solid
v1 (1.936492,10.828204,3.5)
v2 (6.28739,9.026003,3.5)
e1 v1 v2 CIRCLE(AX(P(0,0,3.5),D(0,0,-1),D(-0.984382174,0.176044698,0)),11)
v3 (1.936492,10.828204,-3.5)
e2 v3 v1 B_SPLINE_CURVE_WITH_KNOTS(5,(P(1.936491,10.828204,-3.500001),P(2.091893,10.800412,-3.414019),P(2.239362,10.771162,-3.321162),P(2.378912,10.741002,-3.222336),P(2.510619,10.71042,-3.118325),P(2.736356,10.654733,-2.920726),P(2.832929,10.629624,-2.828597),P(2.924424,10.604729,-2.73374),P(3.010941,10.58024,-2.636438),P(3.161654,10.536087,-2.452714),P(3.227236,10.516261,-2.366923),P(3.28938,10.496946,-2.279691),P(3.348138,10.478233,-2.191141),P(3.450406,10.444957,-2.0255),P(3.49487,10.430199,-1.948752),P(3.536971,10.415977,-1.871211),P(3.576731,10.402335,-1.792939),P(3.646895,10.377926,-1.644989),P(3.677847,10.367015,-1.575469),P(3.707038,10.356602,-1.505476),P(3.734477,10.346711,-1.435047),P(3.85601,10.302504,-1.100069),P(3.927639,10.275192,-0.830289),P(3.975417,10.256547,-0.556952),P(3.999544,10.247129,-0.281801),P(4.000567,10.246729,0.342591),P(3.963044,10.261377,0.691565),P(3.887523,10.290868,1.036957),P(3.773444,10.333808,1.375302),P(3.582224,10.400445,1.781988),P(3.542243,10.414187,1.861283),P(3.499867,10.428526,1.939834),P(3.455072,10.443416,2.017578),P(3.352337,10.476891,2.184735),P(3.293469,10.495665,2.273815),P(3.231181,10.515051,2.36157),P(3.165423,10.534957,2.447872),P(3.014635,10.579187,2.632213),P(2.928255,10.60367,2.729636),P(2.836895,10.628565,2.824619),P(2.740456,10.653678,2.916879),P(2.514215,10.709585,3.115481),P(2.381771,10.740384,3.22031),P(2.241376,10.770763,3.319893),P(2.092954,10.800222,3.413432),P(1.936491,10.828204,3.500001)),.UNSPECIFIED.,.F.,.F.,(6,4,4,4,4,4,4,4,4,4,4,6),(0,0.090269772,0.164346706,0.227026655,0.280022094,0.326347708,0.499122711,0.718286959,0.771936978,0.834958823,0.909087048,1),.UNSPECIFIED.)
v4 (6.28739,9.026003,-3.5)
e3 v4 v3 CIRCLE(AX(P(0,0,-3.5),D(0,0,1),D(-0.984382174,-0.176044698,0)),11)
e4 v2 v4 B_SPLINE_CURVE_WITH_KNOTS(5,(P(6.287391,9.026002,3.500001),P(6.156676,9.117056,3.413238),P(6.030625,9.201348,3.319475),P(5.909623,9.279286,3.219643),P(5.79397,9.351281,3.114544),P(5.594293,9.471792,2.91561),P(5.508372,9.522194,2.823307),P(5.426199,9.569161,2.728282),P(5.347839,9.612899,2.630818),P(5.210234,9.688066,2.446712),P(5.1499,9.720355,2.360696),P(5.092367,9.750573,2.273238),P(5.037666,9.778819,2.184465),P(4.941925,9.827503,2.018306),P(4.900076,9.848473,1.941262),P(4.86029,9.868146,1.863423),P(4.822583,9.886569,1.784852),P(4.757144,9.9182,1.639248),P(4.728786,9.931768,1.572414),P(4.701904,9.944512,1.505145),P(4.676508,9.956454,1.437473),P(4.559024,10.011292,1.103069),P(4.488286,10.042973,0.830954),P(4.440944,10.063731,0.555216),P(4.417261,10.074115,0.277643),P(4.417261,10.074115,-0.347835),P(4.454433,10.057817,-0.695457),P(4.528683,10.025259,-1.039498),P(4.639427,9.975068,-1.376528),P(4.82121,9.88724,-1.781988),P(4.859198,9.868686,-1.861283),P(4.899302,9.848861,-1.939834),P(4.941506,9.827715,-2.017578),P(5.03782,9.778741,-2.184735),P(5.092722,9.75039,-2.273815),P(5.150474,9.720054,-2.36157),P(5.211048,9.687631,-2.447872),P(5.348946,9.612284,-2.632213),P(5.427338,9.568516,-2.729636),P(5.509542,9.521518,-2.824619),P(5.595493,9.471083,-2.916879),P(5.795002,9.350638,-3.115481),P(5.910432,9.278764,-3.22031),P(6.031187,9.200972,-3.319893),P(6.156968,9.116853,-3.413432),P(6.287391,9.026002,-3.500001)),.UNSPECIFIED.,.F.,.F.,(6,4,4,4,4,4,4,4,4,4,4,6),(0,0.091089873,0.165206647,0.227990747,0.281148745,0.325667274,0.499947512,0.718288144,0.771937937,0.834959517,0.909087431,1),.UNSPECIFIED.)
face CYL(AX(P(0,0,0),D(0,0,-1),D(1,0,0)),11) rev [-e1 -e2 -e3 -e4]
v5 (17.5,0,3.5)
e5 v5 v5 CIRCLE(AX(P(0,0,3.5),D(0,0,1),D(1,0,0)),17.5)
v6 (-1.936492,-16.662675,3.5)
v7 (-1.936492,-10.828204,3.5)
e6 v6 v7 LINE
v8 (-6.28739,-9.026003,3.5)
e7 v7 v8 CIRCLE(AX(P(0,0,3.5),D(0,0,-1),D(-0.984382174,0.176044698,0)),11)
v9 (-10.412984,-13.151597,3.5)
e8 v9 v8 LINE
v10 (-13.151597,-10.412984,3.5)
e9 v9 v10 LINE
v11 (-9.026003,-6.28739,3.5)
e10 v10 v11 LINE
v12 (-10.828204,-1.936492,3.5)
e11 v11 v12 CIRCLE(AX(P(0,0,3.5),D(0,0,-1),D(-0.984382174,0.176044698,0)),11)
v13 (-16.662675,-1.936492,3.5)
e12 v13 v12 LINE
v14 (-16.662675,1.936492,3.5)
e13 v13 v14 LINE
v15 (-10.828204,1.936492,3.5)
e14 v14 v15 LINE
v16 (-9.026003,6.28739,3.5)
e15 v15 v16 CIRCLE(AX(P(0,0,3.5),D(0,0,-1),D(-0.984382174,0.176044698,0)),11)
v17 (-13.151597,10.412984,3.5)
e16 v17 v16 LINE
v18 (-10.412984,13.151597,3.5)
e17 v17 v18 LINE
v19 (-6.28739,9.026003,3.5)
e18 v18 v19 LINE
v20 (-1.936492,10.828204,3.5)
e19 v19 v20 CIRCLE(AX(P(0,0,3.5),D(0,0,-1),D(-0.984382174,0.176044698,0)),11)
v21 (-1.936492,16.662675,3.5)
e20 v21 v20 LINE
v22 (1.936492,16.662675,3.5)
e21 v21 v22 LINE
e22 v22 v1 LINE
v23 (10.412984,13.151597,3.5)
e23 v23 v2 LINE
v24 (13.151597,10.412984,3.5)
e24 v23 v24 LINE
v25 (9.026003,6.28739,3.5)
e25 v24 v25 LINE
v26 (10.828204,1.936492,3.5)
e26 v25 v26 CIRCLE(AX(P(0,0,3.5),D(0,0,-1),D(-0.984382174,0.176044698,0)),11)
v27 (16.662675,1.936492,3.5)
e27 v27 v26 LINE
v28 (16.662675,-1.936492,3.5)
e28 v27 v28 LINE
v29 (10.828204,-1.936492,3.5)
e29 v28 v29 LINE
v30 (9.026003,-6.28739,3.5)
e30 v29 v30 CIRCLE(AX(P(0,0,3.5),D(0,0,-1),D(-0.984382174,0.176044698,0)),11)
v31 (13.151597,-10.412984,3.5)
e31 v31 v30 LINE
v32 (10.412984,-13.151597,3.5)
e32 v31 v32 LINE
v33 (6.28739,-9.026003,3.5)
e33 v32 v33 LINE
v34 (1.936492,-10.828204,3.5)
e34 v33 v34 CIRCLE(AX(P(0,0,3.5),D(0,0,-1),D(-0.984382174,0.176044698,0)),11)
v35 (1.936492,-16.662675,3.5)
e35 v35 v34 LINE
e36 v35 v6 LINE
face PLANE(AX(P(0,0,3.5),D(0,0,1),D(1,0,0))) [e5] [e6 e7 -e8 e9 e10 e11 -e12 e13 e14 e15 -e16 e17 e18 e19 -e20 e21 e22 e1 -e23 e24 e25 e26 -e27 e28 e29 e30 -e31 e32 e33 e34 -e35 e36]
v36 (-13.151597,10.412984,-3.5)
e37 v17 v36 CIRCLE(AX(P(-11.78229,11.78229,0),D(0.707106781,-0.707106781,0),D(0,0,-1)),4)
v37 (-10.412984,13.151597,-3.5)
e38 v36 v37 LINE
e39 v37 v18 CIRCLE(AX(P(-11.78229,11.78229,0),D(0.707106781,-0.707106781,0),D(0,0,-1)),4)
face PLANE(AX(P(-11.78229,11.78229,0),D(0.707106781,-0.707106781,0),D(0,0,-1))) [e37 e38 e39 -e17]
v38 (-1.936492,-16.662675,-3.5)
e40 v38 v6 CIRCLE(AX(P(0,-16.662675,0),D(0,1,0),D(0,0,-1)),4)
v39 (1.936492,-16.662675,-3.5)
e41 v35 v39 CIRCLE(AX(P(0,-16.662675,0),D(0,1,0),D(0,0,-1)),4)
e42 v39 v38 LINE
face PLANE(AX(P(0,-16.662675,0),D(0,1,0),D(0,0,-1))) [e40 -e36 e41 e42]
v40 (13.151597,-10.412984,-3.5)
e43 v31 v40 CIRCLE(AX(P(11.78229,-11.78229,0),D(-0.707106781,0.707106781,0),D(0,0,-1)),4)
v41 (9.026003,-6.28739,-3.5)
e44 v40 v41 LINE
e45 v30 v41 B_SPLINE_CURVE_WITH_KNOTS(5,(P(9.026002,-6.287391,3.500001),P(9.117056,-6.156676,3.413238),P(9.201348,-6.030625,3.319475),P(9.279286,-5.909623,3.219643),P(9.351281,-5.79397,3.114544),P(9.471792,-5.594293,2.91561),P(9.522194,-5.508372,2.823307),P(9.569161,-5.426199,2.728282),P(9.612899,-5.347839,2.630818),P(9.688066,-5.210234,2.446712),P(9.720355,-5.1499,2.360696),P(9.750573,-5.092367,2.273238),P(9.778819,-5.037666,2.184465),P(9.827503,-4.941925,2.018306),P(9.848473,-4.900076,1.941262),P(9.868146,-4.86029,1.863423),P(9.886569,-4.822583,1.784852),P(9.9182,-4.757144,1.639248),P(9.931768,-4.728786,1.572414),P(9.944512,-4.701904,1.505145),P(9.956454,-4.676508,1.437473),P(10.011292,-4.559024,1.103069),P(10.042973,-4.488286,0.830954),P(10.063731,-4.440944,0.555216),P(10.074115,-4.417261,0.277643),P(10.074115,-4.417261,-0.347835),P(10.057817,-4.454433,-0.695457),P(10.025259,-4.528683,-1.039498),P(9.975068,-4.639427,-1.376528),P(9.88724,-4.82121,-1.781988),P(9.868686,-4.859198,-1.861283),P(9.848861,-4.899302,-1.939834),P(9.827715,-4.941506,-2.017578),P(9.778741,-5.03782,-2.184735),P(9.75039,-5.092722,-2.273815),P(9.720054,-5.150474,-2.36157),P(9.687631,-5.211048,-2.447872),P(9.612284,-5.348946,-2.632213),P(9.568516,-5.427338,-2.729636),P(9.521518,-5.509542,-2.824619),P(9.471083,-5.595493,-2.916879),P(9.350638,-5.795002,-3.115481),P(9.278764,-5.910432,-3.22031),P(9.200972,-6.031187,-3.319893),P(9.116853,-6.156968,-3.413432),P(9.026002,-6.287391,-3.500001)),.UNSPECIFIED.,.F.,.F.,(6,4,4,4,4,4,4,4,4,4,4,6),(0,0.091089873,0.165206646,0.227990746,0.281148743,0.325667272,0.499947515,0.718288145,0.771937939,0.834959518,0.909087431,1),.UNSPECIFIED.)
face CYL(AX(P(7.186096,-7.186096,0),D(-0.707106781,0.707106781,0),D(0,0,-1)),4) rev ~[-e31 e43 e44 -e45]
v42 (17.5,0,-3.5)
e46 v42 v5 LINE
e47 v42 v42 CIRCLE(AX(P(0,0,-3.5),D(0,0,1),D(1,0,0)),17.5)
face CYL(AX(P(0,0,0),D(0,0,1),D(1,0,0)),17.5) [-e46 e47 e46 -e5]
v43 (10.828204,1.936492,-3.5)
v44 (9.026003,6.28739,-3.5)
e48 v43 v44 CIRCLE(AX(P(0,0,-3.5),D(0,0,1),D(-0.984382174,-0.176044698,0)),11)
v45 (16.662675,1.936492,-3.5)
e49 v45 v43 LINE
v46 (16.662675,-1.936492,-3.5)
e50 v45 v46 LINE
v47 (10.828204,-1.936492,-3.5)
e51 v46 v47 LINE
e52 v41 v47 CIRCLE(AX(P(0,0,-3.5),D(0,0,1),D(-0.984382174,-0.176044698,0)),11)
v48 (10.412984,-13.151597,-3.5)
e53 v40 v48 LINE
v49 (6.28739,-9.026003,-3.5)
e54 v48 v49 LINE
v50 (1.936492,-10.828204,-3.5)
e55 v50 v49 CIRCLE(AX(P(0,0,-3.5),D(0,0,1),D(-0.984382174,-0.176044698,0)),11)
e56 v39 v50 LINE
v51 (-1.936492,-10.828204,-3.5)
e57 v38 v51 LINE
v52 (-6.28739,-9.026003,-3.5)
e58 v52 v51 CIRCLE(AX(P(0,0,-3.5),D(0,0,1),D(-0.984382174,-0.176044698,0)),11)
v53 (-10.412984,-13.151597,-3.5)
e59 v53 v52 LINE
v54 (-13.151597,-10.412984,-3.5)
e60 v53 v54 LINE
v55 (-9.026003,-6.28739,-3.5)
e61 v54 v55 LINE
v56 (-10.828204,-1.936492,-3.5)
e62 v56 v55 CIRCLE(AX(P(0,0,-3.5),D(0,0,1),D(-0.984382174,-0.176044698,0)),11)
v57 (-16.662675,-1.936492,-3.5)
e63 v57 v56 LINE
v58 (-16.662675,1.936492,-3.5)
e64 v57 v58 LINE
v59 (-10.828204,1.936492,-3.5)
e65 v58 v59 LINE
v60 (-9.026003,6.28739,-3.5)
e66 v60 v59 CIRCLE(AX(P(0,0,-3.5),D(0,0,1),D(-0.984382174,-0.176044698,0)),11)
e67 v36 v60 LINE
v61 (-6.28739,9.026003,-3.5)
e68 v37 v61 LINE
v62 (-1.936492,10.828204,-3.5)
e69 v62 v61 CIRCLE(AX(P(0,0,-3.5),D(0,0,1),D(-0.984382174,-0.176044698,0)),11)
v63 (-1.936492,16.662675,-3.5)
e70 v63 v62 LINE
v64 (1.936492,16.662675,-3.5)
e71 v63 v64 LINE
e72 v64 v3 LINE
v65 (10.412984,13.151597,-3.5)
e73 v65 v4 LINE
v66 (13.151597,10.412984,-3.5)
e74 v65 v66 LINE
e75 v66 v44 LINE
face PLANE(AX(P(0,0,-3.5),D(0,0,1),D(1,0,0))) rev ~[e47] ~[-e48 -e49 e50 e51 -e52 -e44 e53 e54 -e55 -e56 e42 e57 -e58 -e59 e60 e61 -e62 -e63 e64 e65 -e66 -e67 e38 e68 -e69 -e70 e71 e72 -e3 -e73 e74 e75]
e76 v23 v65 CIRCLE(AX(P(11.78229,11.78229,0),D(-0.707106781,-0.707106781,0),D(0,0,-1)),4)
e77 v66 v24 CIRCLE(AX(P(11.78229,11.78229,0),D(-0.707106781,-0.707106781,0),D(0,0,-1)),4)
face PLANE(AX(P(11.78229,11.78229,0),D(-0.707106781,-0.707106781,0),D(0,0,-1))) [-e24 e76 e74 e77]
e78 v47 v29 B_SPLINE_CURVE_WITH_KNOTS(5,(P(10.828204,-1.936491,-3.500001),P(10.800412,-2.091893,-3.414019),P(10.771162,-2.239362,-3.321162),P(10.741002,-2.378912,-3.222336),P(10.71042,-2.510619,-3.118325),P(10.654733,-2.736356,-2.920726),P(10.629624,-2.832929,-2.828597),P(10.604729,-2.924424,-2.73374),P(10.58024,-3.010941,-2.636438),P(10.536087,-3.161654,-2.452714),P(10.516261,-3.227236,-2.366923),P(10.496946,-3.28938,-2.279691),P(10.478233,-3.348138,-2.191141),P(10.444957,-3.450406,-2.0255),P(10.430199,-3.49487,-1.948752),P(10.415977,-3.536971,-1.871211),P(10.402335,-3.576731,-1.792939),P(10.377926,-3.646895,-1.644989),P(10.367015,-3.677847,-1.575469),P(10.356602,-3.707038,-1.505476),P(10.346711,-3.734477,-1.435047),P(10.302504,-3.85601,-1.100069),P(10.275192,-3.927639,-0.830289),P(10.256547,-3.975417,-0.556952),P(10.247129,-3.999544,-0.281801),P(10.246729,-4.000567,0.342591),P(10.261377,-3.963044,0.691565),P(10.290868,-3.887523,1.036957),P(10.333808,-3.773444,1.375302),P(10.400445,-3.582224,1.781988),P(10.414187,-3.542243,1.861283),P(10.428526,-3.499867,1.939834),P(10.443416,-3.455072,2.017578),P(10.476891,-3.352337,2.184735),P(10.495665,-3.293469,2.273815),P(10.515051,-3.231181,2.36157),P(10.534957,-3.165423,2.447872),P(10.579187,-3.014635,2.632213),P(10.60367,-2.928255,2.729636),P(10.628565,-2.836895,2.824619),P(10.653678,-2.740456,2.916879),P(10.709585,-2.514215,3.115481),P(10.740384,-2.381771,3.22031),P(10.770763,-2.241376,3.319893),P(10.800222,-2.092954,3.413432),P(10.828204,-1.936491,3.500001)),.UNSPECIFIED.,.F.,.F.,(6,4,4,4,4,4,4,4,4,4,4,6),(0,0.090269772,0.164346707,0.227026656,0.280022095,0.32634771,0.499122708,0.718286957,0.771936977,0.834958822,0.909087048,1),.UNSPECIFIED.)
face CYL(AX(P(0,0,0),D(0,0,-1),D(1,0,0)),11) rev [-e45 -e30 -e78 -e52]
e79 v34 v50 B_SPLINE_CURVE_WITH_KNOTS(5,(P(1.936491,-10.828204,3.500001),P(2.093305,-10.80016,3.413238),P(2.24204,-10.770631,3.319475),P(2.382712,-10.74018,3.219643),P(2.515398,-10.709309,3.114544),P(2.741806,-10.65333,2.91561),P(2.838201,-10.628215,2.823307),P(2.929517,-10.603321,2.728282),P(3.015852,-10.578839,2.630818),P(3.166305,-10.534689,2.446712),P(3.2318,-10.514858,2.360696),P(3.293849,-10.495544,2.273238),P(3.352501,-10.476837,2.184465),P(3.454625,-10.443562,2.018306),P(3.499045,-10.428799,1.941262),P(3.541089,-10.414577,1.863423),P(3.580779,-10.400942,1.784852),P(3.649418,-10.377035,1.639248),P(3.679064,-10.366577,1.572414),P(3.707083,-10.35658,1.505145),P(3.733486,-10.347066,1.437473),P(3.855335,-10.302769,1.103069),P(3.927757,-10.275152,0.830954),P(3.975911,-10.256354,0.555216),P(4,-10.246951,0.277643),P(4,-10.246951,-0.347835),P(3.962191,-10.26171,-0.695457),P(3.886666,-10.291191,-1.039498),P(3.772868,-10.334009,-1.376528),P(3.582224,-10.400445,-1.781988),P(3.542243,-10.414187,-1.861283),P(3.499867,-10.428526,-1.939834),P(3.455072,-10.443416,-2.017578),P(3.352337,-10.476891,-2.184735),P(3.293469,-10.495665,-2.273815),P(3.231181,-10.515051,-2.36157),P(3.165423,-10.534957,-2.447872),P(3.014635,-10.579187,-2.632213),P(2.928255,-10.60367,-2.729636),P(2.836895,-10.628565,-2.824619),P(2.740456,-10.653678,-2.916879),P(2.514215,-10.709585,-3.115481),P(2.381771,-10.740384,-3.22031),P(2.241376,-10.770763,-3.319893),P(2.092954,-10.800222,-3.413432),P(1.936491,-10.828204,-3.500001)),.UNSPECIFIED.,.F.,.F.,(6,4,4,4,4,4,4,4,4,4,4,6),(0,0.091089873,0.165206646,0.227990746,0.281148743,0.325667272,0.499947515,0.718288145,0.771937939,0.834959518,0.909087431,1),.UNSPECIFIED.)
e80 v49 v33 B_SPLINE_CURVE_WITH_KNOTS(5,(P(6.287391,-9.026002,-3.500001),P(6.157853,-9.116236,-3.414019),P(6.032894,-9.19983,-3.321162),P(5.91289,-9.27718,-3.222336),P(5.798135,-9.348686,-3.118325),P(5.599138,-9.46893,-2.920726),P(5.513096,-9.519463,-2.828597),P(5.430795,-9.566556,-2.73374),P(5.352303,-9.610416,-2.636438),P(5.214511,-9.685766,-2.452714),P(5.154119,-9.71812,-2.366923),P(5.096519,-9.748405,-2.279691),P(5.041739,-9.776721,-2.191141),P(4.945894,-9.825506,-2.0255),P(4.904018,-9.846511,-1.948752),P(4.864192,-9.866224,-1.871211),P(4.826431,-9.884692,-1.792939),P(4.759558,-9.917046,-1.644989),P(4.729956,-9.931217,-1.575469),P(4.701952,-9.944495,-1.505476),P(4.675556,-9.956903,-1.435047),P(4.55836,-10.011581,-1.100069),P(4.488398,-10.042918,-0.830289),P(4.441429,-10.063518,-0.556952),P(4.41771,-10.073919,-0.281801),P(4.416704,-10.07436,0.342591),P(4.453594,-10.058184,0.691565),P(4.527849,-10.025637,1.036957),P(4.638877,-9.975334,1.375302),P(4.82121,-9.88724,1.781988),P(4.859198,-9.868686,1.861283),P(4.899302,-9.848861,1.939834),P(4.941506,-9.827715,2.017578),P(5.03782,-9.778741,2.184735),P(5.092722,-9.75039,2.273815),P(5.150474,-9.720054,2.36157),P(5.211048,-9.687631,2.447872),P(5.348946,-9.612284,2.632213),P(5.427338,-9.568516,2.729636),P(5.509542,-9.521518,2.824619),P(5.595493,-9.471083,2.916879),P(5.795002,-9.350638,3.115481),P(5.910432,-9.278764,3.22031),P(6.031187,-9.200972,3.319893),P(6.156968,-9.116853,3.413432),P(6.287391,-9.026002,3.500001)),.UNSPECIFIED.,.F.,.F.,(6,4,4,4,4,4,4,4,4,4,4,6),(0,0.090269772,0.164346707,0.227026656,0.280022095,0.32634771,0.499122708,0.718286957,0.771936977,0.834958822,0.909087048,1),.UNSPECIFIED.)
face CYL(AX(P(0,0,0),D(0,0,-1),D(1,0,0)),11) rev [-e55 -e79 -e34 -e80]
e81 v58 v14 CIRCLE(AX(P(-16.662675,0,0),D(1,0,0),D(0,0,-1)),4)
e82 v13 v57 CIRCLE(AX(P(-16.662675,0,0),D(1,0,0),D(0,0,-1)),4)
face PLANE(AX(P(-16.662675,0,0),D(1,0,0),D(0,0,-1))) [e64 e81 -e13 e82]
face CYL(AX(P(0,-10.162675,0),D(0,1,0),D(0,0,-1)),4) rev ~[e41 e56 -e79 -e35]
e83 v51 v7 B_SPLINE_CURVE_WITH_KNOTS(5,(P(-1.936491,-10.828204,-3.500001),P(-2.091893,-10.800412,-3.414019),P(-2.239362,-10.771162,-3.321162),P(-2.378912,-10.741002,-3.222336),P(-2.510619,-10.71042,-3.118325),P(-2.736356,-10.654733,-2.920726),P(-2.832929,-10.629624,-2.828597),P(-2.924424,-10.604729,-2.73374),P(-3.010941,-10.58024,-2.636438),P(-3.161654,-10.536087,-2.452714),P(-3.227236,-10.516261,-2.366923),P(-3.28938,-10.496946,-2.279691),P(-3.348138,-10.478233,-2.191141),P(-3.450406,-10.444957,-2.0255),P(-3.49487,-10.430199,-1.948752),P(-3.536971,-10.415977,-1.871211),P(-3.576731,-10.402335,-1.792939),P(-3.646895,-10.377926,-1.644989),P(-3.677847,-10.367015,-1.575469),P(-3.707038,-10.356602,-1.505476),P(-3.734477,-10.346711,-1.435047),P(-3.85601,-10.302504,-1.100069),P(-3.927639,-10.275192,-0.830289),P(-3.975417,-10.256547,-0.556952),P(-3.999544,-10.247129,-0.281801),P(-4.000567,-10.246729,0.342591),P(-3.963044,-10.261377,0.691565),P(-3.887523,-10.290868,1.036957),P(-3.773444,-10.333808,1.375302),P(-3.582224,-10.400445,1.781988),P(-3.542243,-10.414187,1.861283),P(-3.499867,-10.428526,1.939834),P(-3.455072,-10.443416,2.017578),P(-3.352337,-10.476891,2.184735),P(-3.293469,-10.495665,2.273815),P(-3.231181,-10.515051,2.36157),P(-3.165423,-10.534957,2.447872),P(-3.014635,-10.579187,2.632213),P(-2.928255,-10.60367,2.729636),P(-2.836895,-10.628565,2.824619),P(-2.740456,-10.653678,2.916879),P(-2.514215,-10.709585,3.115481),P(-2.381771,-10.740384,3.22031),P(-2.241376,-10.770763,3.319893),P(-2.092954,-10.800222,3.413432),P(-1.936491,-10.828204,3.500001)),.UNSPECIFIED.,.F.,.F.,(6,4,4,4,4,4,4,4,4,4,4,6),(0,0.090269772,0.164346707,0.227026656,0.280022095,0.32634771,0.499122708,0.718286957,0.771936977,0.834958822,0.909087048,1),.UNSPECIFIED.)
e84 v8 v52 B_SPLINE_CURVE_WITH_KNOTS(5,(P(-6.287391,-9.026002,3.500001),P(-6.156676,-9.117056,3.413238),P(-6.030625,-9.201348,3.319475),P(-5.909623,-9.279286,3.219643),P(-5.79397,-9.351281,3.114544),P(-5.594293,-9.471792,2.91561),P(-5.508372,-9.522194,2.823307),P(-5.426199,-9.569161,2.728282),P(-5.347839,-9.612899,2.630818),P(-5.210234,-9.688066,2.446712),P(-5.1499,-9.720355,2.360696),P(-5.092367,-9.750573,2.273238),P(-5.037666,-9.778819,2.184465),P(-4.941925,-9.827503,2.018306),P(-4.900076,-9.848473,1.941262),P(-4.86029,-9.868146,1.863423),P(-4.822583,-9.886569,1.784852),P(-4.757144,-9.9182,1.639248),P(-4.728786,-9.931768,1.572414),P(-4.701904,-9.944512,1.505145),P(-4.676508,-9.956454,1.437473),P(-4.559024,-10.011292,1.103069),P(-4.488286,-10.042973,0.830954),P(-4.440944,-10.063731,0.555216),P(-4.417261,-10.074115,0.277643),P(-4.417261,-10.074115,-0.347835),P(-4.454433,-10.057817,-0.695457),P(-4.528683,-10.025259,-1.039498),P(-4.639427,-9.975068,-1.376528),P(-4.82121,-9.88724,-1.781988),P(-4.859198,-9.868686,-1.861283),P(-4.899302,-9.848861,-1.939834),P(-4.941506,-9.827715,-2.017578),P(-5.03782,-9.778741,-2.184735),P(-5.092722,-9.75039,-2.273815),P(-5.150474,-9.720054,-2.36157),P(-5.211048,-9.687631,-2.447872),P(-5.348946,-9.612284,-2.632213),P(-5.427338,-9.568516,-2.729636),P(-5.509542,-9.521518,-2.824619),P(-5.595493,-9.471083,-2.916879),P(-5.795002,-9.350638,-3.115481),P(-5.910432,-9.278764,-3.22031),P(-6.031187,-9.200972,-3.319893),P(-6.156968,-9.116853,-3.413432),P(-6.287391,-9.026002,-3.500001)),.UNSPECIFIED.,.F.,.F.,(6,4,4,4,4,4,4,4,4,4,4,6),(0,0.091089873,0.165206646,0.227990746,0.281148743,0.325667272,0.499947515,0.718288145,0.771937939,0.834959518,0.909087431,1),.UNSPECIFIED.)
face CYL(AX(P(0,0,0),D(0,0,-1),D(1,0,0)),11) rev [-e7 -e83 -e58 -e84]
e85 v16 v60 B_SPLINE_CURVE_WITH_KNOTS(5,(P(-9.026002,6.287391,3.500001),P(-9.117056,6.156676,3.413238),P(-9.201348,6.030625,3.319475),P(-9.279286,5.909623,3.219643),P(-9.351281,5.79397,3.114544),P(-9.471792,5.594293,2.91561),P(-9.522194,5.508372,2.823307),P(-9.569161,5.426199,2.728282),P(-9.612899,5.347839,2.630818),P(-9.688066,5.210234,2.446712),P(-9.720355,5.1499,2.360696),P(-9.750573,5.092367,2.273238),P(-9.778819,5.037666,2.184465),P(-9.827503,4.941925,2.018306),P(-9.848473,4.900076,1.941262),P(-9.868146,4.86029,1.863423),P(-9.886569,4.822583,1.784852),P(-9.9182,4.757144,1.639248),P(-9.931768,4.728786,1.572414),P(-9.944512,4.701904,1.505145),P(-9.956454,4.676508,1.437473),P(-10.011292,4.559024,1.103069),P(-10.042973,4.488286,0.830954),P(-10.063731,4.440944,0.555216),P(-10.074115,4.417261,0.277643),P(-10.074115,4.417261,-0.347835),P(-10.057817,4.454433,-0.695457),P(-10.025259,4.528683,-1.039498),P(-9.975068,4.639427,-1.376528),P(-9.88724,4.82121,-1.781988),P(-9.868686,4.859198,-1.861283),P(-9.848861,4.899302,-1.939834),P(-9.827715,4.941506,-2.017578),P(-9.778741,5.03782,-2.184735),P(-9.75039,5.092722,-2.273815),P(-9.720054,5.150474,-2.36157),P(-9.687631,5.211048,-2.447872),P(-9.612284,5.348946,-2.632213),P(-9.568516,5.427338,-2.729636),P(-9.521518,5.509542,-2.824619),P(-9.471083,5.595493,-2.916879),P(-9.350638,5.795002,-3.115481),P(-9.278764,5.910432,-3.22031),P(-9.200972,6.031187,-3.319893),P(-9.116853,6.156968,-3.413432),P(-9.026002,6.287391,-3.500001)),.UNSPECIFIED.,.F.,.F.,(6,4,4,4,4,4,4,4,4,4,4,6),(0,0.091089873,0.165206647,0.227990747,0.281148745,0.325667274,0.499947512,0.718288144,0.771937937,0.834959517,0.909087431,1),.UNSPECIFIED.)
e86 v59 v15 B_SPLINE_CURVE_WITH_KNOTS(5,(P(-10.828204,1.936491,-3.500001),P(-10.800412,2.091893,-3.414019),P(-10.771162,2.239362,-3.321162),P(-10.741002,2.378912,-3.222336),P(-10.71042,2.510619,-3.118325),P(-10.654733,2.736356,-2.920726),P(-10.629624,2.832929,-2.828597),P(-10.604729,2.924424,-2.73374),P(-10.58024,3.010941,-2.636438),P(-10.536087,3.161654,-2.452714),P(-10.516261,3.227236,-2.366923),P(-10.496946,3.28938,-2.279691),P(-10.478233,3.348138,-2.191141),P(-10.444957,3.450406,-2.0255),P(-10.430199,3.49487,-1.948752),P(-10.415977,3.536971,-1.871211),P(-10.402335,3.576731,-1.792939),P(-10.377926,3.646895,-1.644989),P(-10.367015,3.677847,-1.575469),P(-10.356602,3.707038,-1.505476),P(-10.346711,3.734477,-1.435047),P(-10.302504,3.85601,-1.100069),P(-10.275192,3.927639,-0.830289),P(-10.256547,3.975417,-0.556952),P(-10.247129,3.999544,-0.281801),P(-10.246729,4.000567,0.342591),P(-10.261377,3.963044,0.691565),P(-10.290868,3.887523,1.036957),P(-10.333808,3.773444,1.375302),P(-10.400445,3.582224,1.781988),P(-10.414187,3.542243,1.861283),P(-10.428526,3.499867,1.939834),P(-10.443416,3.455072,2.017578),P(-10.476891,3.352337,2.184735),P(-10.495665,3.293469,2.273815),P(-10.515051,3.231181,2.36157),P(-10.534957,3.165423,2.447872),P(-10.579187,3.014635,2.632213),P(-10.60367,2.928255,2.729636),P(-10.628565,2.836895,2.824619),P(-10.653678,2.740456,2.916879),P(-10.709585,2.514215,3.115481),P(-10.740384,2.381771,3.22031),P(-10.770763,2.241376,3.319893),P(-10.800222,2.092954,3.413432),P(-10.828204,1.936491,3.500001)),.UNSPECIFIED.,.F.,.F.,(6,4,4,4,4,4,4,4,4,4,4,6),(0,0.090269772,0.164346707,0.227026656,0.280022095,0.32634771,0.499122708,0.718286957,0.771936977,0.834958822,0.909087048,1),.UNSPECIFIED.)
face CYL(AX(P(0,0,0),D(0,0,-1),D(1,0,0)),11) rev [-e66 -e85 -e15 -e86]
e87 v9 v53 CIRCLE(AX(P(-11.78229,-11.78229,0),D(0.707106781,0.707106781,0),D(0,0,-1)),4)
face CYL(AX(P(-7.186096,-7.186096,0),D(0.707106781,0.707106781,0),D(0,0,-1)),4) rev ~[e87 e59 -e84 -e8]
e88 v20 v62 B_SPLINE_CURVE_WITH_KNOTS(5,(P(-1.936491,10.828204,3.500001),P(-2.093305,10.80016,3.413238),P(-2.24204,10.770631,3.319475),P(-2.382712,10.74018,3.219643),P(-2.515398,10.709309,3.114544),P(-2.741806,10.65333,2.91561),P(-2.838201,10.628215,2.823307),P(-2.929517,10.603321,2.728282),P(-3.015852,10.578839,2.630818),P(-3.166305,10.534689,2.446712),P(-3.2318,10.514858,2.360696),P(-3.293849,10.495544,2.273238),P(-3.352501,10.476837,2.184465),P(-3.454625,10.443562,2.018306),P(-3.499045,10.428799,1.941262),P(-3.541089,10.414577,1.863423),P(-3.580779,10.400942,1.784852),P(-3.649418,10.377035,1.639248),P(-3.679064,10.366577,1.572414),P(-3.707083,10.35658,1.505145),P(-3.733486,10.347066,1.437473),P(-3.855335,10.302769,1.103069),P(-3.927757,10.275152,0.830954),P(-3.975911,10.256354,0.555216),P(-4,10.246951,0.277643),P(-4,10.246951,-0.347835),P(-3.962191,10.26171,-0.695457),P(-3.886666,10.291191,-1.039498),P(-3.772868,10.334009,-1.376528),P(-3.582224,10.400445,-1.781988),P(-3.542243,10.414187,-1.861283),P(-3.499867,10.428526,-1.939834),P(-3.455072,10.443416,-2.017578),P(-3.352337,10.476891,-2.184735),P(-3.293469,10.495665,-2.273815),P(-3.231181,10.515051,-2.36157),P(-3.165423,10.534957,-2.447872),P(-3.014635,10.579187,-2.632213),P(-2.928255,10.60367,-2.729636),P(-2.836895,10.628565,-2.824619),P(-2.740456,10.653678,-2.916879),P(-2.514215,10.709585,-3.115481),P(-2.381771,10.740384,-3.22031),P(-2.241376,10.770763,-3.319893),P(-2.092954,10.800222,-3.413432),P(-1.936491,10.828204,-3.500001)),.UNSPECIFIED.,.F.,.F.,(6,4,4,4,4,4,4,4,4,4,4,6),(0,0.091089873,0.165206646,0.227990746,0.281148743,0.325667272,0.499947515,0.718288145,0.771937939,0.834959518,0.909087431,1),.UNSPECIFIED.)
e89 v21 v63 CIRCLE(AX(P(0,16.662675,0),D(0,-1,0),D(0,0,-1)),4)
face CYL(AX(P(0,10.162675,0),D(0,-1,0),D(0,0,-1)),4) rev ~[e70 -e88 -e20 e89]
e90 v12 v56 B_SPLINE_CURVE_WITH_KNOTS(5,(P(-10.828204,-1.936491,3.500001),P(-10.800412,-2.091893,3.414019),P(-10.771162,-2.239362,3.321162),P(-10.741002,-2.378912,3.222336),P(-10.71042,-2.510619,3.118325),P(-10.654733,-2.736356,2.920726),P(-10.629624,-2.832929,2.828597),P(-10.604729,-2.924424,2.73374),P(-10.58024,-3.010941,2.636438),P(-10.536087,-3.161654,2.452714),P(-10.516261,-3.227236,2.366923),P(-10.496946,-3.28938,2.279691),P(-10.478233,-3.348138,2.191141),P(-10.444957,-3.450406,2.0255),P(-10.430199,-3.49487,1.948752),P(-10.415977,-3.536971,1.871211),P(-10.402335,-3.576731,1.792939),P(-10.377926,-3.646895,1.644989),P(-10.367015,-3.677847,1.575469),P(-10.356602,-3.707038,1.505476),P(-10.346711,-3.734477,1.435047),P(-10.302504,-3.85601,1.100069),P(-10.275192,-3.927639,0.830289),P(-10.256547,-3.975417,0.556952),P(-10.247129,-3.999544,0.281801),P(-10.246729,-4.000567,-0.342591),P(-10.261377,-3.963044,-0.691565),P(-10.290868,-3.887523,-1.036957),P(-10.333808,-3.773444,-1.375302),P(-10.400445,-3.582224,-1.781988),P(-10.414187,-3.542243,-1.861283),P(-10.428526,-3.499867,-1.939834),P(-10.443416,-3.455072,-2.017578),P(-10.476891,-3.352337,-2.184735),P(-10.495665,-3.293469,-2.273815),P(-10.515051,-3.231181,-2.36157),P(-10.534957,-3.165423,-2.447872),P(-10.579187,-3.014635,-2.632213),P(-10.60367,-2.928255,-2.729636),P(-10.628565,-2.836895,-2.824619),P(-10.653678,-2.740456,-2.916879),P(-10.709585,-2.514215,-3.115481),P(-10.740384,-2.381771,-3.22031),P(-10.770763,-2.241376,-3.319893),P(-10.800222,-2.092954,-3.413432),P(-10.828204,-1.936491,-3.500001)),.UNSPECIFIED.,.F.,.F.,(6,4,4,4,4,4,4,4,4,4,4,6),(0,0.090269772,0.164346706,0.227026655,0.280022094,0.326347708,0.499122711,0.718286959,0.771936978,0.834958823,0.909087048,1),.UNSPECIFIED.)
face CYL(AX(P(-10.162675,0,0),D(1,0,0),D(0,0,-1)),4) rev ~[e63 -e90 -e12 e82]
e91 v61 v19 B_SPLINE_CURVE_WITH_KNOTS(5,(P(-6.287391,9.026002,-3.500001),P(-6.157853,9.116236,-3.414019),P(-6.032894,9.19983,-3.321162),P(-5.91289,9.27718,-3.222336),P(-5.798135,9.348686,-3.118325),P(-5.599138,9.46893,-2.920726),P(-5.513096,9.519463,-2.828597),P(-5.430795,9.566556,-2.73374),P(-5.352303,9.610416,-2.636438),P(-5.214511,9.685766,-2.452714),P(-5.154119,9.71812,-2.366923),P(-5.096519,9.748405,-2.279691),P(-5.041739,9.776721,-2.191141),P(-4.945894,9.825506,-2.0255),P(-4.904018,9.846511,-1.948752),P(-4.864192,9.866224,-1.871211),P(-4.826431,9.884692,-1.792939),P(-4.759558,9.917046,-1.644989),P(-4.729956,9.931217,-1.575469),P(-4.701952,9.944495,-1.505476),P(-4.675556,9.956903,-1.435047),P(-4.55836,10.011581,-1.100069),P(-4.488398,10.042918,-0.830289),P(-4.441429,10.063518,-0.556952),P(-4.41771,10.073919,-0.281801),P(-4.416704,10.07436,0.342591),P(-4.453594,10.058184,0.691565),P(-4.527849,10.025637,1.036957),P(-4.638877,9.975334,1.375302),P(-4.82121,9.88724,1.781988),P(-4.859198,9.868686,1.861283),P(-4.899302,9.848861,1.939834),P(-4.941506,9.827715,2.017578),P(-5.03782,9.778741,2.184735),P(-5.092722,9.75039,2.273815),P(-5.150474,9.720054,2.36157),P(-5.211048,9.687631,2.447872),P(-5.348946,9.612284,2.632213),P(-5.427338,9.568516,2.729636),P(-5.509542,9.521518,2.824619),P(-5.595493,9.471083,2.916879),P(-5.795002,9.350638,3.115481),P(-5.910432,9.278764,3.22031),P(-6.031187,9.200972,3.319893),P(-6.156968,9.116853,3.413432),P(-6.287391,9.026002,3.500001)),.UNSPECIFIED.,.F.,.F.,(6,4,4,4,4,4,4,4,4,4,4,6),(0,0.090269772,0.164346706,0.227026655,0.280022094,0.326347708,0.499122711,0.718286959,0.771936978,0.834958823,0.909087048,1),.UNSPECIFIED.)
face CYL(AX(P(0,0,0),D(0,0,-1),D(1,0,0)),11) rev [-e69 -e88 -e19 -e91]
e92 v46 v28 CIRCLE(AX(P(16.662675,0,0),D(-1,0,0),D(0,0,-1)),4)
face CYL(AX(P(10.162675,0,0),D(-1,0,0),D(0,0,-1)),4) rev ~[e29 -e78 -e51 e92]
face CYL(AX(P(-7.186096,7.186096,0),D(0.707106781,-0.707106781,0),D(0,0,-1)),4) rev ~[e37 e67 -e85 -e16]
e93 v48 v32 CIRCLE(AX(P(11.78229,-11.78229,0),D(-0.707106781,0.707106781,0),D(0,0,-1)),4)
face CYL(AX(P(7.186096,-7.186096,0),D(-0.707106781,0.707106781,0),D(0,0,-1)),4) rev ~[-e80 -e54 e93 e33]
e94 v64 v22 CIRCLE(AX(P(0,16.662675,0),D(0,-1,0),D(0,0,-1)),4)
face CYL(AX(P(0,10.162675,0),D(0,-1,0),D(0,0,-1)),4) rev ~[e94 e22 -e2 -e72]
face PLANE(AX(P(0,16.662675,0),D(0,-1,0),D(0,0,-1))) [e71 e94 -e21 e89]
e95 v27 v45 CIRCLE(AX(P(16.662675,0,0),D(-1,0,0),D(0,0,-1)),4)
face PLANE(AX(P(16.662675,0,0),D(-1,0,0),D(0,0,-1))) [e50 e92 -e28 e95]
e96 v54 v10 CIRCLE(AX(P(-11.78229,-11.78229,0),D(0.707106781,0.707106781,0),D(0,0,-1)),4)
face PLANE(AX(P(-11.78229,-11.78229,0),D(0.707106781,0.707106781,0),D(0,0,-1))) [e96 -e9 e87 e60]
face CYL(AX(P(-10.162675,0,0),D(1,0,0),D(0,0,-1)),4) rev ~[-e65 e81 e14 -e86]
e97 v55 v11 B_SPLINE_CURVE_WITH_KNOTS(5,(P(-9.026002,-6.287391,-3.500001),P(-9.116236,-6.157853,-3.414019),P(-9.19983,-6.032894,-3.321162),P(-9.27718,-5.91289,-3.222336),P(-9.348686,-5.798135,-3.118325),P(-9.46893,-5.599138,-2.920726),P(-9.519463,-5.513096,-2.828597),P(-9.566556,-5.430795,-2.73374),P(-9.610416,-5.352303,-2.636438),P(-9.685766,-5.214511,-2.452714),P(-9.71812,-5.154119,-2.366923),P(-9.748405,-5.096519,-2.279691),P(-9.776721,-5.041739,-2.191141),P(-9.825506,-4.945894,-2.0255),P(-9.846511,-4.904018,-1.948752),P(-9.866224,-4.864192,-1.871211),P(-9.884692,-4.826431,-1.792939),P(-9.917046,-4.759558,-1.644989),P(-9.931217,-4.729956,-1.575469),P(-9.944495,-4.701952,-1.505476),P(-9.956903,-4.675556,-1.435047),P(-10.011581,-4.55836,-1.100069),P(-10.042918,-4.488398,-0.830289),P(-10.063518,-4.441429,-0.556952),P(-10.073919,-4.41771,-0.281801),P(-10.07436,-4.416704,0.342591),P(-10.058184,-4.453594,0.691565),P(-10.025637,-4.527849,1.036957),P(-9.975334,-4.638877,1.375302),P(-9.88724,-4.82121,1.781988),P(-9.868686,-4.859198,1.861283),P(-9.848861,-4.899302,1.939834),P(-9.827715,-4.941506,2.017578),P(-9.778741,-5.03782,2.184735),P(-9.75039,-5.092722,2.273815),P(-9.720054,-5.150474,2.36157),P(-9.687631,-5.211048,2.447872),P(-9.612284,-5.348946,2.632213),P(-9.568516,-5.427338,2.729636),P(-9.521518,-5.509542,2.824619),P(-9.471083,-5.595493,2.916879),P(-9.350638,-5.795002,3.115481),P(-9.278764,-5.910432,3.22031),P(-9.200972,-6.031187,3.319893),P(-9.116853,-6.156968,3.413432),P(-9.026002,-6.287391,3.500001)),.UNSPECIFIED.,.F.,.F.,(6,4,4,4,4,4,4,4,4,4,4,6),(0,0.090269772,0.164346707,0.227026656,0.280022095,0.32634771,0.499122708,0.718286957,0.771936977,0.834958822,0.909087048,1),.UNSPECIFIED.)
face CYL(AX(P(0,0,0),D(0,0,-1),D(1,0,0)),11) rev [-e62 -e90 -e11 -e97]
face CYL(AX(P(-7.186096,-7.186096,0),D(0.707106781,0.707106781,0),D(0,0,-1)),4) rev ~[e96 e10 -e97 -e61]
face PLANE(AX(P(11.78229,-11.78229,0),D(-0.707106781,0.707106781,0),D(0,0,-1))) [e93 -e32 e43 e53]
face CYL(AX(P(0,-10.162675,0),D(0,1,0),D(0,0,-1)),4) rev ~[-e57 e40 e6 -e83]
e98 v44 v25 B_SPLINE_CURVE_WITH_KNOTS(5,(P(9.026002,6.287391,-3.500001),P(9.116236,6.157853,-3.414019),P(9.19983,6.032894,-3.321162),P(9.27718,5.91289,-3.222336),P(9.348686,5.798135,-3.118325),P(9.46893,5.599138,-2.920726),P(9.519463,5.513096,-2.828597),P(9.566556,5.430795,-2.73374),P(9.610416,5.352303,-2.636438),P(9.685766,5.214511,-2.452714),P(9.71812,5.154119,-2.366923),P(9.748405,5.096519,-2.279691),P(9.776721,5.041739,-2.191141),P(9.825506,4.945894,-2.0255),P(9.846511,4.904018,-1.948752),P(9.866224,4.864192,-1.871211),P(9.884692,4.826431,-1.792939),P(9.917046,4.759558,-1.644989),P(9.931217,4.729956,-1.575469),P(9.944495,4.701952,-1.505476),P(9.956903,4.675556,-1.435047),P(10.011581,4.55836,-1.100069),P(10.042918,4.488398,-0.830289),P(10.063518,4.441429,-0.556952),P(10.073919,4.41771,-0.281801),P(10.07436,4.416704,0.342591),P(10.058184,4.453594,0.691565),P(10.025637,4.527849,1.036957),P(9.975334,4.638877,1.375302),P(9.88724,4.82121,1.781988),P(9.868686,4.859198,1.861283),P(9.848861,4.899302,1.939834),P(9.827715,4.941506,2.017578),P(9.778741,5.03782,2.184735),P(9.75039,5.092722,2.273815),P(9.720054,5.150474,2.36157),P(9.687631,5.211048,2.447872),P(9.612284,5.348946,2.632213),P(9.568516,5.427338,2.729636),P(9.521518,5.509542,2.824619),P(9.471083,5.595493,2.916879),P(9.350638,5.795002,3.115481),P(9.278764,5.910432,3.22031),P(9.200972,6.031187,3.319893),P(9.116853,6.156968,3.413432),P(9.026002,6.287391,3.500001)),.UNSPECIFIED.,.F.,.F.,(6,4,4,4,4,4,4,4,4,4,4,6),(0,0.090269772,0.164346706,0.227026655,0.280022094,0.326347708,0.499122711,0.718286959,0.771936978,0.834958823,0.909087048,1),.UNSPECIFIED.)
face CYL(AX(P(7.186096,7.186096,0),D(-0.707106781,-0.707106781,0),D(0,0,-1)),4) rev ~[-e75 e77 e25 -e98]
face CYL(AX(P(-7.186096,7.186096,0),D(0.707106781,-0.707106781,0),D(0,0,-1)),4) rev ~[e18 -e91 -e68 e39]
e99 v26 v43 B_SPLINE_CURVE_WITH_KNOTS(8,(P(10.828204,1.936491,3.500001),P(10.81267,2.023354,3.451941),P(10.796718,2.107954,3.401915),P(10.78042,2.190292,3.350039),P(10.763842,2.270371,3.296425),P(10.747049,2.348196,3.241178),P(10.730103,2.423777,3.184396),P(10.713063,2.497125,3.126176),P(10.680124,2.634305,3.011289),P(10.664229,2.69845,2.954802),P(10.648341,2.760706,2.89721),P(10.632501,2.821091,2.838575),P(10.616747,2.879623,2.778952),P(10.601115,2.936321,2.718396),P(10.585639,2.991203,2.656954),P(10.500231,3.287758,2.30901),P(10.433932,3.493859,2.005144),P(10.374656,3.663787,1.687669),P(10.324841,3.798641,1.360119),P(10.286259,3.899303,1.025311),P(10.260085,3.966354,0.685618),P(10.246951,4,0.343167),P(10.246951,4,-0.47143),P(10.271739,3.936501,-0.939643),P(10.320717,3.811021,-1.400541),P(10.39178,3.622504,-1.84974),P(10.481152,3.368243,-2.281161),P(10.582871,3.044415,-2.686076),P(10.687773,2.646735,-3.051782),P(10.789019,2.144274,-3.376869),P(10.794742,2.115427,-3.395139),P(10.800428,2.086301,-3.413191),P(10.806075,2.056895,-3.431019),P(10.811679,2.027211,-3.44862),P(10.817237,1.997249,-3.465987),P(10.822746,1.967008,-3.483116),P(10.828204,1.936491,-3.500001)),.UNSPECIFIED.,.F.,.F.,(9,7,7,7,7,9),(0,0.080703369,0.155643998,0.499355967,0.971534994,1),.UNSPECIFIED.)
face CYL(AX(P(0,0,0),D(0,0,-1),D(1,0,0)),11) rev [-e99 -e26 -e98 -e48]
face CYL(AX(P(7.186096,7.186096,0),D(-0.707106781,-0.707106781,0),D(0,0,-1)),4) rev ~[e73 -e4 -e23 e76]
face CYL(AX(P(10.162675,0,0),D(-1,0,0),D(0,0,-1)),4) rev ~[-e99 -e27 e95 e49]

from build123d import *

# Parameters (mm, degrees)
SKETCH1_R           = 17.5
SKETCH1_R_2         = 11
BOSS_EXTRUDE1_DEPTH = 3.5
SKETCH4_R           = 4
CUT_EXTRUDE1_DEPTH  = 6.5
CIRPATTERN1_COUNT   = 8


with BuildPart() as part:
    # Sketch1 → Boss-Extrude1 (new, symmetric)
    with BuildSketch(Plane.XY):
        Circle(SKETCH1_R)
        Circle(SKETCH1_R_2, mode=Mode.SUBTRACT)
    extrude(amount=BOSS_EXTRUDE1_DEPTH, both=True)

    # Sketch4 → Cut-Extrude1 (cut)
    with BuildSketch(Plane(origin=(-10.162674858, 0, 0), x_dir=(0, 0, -1), z_dir=(1, 0, 0))):
        Circle(SKETCH4_R)
    cut_extrude1 = extrude(amount=-CUT_EXTRUDE1_DEPTH, mode=Mode.SUBTRACT)

    # CirPattern1: Cut-Extrude1 ×8 about axis
    cirpattern1_axis = Axis((0, 0, 3.5), (0, 0, -1))
    for i in range(1, CIRPATTERN1_COUNT):
        add(cut_extrude1.rotate(cirpattern1_axis, i * 360 / CIRPATTERN1_COUNT), mode=Mode.SUBTRACT)


solid = part.part
